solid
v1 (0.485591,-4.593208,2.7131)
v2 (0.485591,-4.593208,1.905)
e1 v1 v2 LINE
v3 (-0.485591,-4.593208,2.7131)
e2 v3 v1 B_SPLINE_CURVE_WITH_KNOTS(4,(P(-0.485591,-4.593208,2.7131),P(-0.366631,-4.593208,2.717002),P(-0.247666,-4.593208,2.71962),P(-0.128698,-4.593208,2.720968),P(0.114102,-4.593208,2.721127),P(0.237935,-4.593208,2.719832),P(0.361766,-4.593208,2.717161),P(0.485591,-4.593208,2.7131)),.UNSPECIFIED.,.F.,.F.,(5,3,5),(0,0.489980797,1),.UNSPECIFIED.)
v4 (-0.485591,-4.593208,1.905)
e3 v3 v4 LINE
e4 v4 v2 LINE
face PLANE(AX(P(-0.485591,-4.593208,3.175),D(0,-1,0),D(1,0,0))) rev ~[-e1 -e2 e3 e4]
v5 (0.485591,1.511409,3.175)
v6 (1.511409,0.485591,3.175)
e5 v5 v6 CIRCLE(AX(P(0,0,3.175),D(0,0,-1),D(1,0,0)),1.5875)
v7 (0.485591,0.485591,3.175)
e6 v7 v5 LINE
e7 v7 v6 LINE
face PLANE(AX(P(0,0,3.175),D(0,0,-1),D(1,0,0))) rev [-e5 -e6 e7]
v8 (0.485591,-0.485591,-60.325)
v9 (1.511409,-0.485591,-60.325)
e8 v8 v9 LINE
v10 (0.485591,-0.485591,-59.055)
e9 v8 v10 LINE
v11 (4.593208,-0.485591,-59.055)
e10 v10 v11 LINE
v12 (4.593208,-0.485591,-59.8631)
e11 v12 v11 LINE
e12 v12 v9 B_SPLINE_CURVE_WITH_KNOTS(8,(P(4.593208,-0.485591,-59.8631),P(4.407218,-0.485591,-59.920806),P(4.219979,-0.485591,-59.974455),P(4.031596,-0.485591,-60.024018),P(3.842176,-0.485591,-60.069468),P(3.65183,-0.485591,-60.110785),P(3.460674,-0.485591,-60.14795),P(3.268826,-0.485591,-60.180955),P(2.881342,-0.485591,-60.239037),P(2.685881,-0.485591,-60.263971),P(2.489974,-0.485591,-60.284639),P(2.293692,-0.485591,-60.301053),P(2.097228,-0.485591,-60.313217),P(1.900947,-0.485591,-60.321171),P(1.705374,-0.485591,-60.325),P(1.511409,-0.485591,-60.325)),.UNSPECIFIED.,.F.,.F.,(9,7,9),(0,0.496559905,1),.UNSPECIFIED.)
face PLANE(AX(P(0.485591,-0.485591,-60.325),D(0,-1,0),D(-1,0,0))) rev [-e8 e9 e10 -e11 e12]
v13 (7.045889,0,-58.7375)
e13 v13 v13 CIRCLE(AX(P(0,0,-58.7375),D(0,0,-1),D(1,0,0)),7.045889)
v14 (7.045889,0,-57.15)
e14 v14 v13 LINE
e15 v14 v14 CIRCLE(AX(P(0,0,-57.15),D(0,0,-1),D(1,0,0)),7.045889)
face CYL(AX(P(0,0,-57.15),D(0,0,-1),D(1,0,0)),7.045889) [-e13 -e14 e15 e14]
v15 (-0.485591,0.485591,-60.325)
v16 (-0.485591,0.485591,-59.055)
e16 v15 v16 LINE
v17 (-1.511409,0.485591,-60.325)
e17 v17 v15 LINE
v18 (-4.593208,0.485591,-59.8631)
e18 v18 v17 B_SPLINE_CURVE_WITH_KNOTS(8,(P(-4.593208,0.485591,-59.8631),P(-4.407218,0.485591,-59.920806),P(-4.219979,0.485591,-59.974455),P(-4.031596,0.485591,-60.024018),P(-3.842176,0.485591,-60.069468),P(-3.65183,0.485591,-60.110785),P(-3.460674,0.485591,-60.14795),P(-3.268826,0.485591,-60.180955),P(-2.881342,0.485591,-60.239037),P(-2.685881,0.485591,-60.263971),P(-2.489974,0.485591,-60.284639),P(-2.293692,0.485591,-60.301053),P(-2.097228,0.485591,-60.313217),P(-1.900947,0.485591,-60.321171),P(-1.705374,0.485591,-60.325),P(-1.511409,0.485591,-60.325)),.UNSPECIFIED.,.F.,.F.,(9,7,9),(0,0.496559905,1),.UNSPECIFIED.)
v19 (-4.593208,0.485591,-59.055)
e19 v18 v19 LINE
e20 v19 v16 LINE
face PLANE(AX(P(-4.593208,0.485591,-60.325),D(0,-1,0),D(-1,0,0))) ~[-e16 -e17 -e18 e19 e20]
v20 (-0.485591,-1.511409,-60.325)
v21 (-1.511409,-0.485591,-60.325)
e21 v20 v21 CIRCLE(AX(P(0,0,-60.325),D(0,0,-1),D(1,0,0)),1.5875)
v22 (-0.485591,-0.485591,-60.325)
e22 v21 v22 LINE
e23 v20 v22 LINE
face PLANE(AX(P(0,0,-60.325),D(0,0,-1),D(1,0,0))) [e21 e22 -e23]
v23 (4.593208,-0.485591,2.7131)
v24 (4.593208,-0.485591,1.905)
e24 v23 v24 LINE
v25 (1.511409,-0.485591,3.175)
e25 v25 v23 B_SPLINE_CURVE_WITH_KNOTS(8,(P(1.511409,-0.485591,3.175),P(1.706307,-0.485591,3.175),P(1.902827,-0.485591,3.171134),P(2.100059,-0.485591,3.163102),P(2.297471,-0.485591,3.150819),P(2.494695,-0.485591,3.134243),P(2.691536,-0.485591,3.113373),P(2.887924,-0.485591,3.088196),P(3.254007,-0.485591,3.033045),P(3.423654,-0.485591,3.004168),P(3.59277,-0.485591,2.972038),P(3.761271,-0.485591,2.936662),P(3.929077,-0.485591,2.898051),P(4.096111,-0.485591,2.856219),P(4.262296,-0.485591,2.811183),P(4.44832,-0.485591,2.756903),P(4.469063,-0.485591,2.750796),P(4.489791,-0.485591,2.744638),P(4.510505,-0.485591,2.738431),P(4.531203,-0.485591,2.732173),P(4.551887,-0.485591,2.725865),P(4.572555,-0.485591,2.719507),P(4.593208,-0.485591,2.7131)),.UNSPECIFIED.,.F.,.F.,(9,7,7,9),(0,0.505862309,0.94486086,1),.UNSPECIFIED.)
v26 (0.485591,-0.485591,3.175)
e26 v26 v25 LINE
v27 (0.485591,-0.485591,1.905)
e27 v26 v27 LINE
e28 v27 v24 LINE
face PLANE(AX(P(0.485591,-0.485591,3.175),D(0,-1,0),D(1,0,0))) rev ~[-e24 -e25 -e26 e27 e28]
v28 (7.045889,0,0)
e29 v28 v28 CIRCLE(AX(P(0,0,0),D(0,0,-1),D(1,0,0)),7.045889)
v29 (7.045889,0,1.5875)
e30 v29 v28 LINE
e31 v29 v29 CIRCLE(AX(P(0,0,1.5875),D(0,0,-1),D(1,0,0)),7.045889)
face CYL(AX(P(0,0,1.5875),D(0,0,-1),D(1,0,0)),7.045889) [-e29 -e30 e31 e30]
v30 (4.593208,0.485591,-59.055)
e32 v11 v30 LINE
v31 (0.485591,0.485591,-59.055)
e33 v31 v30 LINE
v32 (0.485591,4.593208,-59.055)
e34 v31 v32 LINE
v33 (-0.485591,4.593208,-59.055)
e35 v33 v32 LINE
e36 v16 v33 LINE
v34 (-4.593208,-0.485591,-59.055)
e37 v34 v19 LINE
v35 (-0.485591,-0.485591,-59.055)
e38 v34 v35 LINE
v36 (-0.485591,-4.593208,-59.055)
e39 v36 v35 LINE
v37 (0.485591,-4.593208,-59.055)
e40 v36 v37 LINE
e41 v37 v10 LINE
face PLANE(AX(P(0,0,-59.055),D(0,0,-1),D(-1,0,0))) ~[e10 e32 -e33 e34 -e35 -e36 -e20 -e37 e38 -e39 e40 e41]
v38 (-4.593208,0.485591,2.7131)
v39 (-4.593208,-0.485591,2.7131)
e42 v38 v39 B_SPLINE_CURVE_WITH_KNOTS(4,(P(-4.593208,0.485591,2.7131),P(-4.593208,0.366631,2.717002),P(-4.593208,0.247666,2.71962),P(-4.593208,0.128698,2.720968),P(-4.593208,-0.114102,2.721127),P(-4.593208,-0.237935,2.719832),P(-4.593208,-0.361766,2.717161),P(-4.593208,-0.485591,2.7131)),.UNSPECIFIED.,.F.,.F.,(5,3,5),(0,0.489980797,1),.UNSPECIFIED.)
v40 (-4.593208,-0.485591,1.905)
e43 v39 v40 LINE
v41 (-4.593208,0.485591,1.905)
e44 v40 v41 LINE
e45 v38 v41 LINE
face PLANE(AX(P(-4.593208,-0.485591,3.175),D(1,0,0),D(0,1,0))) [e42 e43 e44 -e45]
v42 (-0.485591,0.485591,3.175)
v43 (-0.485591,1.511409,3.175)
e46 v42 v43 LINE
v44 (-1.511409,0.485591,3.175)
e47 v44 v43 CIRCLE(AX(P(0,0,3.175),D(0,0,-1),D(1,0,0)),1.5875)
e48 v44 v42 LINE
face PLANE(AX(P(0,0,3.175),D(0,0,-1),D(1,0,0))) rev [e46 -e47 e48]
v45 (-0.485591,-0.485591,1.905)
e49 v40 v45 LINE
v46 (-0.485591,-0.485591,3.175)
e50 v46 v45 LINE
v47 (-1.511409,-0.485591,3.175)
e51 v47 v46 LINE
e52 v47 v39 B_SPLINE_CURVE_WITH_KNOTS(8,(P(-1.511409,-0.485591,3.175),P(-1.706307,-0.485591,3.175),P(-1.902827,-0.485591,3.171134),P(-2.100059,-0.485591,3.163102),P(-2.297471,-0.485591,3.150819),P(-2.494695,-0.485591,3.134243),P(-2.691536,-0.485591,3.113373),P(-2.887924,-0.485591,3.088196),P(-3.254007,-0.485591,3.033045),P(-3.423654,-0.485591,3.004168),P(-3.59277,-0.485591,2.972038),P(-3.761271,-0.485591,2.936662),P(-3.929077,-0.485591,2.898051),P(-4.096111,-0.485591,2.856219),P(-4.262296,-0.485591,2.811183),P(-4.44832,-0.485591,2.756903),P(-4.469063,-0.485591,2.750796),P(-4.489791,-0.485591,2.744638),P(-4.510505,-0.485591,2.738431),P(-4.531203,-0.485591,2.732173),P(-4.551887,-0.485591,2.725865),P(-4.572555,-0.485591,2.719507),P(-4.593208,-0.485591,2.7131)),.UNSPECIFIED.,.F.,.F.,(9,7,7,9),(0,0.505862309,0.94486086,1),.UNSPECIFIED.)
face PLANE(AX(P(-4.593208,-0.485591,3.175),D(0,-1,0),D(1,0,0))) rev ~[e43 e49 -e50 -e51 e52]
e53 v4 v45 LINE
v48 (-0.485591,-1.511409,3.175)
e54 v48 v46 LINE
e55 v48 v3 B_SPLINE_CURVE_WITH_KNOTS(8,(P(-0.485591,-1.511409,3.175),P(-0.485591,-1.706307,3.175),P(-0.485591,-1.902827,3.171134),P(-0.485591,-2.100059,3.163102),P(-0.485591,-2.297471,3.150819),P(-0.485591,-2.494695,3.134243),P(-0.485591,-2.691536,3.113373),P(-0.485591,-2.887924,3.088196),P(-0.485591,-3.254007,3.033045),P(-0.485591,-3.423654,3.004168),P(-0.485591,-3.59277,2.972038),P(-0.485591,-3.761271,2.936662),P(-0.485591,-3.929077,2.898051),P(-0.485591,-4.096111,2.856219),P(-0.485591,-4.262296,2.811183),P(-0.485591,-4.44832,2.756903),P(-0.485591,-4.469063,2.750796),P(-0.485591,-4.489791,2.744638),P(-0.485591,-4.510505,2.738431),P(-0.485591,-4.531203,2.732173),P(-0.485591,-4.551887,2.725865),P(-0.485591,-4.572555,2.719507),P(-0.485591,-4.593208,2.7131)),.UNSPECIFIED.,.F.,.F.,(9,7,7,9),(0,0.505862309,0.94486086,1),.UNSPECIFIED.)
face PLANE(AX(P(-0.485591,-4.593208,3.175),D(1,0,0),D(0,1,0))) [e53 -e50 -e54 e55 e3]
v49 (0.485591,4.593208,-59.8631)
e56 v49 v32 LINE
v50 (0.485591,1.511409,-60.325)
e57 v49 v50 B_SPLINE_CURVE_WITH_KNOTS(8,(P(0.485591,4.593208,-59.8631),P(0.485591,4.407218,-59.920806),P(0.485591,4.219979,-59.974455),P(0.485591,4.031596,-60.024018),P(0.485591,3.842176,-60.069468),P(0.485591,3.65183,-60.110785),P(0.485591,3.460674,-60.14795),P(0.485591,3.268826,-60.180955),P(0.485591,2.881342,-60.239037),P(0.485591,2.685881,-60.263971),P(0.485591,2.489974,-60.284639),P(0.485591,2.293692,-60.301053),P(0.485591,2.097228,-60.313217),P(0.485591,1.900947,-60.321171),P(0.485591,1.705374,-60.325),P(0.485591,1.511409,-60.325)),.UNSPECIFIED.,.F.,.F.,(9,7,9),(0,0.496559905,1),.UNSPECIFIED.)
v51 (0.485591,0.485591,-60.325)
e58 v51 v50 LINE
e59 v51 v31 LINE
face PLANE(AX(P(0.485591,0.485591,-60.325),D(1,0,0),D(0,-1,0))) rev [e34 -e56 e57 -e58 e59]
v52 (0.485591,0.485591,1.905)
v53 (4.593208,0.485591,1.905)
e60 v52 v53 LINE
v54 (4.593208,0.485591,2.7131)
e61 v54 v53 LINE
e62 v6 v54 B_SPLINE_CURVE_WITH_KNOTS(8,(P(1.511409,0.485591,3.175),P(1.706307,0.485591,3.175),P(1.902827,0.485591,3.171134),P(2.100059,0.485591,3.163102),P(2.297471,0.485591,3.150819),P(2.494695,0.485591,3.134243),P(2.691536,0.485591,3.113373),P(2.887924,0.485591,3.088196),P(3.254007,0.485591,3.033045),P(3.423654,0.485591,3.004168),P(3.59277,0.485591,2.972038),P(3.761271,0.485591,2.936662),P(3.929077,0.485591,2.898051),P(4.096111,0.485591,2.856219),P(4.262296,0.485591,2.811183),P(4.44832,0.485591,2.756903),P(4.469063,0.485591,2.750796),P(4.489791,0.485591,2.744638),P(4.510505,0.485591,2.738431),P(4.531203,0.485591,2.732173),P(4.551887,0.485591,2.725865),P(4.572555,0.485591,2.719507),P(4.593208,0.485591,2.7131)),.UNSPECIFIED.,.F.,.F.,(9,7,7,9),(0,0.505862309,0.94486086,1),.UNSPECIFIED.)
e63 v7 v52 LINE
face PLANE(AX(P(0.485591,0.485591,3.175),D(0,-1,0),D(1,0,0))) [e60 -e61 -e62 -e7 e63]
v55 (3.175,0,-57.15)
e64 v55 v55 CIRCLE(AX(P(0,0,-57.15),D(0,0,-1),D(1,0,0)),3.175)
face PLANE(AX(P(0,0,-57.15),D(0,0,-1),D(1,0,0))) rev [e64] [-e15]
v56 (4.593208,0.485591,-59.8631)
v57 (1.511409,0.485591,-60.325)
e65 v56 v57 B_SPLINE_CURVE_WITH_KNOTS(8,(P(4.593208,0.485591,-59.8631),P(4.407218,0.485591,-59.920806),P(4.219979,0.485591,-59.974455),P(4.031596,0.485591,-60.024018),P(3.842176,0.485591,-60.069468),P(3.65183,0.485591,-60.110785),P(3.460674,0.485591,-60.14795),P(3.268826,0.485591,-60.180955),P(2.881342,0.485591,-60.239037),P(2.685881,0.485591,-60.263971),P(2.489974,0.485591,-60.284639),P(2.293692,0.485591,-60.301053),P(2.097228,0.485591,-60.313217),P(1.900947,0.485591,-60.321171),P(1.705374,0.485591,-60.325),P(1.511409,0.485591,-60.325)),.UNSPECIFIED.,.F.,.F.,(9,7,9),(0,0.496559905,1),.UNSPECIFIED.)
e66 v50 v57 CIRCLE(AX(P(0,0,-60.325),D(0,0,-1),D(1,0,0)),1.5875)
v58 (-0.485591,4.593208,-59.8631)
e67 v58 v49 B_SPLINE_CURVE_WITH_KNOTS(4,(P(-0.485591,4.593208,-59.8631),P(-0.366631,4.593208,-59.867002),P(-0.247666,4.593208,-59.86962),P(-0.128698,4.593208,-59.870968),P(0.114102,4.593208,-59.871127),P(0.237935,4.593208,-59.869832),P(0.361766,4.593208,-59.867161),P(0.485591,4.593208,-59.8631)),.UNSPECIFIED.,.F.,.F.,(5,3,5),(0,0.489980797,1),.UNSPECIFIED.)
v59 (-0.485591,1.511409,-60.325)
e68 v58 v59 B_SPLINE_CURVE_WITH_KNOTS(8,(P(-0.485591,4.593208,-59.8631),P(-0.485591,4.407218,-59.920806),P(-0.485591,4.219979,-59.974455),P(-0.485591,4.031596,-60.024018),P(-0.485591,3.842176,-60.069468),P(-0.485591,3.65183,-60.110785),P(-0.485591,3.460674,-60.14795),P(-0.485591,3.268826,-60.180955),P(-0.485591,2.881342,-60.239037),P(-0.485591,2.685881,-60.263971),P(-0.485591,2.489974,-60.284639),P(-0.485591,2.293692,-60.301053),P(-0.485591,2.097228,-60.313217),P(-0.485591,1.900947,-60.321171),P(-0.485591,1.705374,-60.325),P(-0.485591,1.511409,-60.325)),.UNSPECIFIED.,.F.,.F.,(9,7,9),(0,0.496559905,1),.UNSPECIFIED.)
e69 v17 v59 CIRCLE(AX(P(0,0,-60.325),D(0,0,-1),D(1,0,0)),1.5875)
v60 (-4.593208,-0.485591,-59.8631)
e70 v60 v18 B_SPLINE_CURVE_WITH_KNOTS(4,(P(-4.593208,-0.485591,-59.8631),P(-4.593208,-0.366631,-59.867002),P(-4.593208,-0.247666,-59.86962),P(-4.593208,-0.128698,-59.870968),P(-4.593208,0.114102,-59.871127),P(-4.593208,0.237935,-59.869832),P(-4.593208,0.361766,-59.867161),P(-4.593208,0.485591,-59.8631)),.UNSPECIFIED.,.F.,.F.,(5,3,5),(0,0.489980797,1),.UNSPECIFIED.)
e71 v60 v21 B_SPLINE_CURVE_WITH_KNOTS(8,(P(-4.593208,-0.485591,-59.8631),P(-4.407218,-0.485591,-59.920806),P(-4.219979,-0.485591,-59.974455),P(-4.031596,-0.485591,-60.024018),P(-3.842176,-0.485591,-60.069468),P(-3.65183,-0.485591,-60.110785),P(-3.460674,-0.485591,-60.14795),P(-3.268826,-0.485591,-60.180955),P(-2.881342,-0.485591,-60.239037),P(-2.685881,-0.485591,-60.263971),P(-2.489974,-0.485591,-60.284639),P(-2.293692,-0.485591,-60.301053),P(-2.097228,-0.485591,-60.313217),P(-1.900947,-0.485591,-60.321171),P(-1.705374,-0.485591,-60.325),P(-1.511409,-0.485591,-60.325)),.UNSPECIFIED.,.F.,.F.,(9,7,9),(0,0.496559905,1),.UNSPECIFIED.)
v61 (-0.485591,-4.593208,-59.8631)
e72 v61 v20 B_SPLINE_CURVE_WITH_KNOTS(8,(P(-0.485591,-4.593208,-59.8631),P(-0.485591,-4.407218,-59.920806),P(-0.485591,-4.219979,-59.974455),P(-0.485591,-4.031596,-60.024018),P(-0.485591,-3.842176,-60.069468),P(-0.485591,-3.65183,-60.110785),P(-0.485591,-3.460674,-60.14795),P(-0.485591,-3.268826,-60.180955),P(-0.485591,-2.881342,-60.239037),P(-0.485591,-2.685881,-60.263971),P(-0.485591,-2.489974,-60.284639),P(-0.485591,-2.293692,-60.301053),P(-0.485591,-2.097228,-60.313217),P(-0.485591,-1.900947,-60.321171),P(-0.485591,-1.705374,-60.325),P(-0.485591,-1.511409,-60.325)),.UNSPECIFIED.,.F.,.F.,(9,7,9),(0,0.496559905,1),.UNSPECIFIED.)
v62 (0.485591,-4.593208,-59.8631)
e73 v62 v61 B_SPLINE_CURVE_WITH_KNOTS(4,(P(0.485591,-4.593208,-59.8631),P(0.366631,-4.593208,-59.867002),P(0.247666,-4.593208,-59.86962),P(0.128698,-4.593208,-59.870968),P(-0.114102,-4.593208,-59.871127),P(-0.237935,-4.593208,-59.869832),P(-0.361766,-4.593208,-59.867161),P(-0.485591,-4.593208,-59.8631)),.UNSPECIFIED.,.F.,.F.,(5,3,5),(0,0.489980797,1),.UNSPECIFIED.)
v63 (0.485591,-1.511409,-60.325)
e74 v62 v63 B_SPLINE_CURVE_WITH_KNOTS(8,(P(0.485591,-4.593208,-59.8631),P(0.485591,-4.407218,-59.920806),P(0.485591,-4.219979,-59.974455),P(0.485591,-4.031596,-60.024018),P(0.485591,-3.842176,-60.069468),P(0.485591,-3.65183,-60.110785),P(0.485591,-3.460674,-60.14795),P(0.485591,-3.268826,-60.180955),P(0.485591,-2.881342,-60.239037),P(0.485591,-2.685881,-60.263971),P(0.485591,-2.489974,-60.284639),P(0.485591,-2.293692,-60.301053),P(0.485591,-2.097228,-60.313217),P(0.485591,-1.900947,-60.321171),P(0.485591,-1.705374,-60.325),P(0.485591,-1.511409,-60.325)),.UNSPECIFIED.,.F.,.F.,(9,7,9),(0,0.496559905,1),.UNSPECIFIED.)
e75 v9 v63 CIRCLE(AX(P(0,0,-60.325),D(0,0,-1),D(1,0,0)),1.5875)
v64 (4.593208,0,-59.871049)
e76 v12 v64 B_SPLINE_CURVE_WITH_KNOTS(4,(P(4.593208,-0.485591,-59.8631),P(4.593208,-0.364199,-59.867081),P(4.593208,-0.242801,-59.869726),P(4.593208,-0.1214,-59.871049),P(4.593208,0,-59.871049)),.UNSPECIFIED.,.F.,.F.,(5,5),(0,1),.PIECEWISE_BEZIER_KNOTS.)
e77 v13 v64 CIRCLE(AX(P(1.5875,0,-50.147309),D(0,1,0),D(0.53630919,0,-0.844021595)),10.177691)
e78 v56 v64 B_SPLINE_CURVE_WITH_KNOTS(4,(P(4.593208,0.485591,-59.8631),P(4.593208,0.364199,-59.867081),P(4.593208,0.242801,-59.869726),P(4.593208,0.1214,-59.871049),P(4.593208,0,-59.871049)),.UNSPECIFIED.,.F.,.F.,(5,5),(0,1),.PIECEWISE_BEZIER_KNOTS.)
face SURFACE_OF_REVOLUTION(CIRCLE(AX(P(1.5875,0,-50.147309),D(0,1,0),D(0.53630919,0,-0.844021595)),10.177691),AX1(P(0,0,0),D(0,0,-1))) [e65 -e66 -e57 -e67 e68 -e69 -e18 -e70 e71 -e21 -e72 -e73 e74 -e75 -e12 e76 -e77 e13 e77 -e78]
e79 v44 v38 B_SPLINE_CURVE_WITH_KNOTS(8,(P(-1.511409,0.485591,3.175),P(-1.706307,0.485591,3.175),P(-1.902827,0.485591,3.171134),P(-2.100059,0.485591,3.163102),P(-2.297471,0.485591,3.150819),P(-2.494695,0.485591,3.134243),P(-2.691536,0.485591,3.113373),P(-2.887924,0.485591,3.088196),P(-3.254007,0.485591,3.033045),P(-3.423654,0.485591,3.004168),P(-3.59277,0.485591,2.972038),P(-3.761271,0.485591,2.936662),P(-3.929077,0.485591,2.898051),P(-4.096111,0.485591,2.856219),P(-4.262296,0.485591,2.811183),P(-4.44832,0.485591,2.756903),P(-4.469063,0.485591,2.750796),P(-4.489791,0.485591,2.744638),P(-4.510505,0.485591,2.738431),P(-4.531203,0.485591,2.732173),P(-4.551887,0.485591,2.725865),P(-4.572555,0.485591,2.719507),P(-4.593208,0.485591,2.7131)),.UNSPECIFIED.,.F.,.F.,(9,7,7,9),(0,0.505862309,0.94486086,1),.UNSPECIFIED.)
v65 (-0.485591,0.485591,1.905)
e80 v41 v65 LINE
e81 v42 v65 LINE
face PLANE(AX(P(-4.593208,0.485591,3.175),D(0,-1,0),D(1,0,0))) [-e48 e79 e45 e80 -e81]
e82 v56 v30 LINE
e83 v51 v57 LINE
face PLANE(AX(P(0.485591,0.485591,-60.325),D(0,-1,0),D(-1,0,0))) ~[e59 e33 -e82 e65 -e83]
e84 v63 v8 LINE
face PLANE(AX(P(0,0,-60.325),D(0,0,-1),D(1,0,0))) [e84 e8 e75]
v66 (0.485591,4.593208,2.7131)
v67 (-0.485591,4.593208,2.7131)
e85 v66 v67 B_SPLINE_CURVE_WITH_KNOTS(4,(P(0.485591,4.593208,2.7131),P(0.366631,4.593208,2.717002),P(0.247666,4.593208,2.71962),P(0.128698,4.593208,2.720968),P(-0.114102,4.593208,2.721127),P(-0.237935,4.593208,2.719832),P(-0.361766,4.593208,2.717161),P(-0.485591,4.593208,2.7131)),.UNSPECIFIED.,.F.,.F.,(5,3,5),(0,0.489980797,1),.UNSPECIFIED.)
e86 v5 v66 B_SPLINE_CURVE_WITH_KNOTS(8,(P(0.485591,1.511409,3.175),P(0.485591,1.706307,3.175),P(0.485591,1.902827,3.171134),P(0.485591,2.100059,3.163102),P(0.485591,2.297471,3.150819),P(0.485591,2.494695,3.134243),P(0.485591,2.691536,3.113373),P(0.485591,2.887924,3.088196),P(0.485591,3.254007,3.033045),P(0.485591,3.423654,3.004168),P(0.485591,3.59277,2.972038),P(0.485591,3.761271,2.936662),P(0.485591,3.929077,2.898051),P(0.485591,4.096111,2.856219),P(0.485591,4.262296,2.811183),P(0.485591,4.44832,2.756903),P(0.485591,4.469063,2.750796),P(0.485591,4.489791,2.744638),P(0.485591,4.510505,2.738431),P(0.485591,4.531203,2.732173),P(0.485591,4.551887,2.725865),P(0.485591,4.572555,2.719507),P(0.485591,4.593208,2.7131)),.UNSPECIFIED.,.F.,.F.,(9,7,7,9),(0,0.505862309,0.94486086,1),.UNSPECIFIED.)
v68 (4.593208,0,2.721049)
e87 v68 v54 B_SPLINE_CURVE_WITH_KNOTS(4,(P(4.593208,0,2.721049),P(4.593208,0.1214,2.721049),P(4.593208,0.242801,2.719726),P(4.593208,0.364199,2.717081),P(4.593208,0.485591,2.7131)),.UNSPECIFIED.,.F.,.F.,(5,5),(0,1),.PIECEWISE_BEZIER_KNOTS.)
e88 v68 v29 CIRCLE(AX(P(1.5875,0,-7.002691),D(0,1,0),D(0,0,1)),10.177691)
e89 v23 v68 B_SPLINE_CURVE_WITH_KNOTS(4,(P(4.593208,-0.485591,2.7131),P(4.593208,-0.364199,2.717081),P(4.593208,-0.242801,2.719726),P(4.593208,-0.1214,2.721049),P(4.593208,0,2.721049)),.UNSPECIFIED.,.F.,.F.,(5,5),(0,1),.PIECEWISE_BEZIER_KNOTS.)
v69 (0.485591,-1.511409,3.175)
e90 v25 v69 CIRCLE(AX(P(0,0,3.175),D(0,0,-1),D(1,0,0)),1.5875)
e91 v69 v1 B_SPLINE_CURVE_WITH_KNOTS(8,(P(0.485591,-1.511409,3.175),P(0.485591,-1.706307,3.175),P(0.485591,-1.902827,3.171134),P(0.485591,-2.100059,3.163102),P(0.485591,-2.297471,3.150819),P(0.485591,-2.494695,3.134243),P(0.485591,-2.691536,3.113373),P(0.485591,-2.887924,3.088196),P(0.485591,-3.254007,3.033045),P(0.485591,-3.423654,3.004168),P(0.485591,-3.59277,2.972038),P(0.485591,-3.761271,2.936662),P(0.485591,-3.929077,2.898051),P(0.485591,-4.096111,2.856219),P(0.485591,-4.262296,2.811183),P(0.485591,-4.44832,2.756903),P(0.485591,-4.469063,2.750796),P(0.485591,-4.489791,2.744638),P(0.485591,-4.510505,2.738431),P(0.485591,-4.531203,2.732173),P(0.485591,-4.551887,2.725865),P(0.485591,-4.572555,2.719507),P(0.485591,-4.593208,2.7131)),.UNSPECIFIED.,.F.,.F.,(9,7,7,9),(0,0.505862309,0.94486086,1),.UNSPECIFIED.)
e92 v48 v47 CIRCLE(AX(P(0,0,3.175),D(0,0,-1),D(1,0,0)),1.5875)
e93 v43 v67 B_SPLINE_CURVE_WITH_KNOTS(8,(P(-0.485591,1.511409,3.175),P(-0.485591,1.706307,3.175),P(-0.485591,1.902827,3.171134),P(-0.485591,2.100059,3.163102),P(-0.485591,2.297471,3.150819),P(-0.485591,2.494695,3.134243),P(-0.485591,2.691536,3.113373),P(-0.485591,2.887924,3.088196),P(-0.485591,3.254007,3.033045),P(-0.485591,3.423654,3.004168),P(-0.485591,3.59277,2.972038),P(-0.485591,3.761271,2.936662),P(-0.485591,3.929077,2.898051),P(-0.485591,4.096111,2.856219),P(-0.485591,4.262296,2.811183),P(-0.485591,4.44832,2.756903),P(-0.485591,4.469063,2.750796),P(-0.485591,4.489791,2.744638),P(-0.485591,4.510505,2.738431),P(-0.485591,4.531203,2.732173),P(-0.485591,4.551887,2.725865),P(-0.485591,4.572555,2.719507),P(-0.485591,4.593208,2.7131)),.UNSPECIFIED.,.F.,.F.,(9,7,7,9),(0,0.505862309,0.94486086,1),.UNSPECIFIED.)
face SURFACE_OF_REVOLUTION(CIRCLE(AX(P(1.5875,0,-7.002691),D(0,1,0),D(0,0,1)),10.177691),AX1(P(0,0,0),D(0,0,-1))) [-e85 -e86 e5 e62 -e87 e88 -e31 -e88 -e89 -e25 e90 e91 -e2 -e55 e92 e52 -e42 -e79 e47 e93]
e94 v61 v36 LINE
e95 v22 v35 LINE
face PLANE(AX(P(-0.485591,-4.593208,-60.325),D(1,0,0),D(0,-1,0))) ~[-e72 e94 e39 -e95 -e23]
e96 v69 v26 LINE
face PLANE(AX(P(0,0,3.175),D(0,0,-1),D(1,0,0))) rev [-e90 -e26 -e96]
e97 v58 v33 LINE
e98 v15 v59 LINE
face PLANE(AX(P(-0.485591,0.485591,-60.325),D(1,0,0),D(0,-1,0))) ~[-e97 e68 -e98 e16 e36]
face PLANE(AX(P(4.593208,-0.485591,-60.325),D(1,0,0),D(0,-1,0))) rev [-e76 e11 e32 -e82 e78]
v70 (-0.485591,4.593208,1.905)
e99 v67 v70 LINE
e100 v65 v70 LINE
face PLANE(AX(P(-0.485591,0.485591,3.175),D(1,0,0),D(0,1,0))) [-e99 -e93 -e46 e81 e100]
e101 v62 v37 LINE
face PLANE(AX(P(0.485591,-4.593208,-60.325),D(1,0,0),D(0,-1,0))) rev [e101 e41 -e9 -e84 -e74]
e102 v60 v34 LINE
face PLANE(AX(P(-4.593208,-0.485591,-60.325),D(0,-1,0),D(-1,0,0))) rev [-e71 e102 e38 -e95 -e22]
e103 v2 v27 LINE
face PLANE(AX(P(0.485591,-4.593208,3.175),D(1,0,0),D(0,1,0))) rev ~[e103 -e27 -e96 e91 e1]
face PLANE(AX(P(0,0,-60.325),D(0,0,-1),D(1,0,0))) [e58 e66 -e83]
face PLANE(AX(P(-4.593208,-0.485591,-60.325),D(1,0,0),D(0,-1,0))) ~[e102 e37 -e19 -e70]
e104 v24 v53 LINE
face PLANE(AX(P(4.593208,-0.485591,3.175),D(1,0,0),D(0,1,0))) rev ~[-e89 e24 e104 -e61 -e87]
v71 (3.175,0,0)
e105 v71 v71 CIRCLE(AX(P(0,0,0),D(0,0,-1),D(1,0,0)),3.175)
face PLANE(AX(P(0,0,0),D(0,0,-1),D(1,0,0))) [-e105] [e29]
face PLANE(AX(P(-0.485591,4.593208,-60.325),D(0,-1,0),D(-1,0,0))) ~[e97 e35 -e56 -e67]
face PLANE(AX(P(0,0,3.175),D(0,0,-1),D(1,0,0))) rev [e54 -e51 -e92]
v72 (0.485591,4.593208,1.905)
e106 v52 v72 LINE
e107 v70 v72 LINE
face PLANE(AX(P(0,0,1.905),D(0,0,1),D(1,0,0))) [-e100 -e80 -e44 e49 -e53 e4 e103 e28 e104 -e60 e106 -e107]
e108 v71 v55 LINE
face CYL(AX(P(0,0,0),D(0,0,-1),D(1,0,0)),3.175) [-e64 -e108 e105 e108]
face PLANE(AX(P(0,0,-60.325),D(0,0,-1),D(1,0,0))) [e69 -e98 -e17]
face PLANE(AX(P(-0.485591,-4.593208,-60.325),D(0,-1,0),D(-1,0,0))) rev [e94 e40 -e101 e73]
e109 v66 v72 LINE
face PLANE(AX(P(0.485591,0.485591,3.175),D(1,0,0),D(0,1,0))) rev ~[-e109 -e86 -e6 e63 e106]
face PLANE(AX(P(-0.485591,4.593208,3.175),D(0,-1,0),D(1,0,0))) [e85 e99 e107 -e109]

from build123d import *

# Parameters (mm, degrees)
SKETCH2_W          = 9.186415934
SKETCH2_H          = 0.97118121
SKETCH2_W_2        = 0.97118121
SKETCH2_H_2        = 9.186415934
CUT_EXTRUDE1_DEPTH = 1.27


with BuildPart() as part:
    # Sketch1 → Revolve1 (revolve)
    with BuildSketch(Plane(origin=(0, 0, 0), x_dir=(1, 0, 0), z_dir=(0, 1, 0))):
        with BuildLine():
            Line((0, 57.15), (0, 0))
            Line((0, 0), (0, -3.175))
            Line((0, -3.175), (1.5875, -3.175))
            ThreePointArc((1.5875, -3.175), (4.429777637, -2.770069708), (7.045889178, -1.5875))
            Line((7.045889178, -1.5875), (7.045889178, 0))
            Line((7.045889178, 0), (3.175, 0))
            Line((3.175, 0), (3.175, 57.15))
            Line((3.175, 57.15), (7.045889178, 57.15))
            Line((7.045889178, 57.15), (7.045889178, 58.7375))
            ThreePointArc((7.045889178, 58.7375), (4.429777637, 59.920069708), (1.5875, 60.325))
            Line((1.5875, 60.325), (0, 60.325))
            Line((0, 60.325), (0, 57.15))
        make_face()
    revolve(axis=Axis((0, 0, 0), (0, 0, -1)))

    # Sketch2 → Cut-Extrude1 (cut)
    with BuildSketch(Plane.XY.offset(3.175)):
        Rectangle(SKETCH2_W, SKETCH2_H)
        Rectangle(SKETCH2_W_2, SKETCH2_H_2)
    cut_extrude1 = extrude(amount=-CUT_EXTRUDE1_DEPTH, mode=Mode.SUBTRACT)

    # Mirror1: Cut-Extrude1 across plane
    add(cut_extrude1.mirror(Plane(origin=(0, 0, -28.575), x_dir=(1, 0, 0), z_dir=(0, 0, -1))), mode=Mode.SUBTRACT)


solid = part.part
